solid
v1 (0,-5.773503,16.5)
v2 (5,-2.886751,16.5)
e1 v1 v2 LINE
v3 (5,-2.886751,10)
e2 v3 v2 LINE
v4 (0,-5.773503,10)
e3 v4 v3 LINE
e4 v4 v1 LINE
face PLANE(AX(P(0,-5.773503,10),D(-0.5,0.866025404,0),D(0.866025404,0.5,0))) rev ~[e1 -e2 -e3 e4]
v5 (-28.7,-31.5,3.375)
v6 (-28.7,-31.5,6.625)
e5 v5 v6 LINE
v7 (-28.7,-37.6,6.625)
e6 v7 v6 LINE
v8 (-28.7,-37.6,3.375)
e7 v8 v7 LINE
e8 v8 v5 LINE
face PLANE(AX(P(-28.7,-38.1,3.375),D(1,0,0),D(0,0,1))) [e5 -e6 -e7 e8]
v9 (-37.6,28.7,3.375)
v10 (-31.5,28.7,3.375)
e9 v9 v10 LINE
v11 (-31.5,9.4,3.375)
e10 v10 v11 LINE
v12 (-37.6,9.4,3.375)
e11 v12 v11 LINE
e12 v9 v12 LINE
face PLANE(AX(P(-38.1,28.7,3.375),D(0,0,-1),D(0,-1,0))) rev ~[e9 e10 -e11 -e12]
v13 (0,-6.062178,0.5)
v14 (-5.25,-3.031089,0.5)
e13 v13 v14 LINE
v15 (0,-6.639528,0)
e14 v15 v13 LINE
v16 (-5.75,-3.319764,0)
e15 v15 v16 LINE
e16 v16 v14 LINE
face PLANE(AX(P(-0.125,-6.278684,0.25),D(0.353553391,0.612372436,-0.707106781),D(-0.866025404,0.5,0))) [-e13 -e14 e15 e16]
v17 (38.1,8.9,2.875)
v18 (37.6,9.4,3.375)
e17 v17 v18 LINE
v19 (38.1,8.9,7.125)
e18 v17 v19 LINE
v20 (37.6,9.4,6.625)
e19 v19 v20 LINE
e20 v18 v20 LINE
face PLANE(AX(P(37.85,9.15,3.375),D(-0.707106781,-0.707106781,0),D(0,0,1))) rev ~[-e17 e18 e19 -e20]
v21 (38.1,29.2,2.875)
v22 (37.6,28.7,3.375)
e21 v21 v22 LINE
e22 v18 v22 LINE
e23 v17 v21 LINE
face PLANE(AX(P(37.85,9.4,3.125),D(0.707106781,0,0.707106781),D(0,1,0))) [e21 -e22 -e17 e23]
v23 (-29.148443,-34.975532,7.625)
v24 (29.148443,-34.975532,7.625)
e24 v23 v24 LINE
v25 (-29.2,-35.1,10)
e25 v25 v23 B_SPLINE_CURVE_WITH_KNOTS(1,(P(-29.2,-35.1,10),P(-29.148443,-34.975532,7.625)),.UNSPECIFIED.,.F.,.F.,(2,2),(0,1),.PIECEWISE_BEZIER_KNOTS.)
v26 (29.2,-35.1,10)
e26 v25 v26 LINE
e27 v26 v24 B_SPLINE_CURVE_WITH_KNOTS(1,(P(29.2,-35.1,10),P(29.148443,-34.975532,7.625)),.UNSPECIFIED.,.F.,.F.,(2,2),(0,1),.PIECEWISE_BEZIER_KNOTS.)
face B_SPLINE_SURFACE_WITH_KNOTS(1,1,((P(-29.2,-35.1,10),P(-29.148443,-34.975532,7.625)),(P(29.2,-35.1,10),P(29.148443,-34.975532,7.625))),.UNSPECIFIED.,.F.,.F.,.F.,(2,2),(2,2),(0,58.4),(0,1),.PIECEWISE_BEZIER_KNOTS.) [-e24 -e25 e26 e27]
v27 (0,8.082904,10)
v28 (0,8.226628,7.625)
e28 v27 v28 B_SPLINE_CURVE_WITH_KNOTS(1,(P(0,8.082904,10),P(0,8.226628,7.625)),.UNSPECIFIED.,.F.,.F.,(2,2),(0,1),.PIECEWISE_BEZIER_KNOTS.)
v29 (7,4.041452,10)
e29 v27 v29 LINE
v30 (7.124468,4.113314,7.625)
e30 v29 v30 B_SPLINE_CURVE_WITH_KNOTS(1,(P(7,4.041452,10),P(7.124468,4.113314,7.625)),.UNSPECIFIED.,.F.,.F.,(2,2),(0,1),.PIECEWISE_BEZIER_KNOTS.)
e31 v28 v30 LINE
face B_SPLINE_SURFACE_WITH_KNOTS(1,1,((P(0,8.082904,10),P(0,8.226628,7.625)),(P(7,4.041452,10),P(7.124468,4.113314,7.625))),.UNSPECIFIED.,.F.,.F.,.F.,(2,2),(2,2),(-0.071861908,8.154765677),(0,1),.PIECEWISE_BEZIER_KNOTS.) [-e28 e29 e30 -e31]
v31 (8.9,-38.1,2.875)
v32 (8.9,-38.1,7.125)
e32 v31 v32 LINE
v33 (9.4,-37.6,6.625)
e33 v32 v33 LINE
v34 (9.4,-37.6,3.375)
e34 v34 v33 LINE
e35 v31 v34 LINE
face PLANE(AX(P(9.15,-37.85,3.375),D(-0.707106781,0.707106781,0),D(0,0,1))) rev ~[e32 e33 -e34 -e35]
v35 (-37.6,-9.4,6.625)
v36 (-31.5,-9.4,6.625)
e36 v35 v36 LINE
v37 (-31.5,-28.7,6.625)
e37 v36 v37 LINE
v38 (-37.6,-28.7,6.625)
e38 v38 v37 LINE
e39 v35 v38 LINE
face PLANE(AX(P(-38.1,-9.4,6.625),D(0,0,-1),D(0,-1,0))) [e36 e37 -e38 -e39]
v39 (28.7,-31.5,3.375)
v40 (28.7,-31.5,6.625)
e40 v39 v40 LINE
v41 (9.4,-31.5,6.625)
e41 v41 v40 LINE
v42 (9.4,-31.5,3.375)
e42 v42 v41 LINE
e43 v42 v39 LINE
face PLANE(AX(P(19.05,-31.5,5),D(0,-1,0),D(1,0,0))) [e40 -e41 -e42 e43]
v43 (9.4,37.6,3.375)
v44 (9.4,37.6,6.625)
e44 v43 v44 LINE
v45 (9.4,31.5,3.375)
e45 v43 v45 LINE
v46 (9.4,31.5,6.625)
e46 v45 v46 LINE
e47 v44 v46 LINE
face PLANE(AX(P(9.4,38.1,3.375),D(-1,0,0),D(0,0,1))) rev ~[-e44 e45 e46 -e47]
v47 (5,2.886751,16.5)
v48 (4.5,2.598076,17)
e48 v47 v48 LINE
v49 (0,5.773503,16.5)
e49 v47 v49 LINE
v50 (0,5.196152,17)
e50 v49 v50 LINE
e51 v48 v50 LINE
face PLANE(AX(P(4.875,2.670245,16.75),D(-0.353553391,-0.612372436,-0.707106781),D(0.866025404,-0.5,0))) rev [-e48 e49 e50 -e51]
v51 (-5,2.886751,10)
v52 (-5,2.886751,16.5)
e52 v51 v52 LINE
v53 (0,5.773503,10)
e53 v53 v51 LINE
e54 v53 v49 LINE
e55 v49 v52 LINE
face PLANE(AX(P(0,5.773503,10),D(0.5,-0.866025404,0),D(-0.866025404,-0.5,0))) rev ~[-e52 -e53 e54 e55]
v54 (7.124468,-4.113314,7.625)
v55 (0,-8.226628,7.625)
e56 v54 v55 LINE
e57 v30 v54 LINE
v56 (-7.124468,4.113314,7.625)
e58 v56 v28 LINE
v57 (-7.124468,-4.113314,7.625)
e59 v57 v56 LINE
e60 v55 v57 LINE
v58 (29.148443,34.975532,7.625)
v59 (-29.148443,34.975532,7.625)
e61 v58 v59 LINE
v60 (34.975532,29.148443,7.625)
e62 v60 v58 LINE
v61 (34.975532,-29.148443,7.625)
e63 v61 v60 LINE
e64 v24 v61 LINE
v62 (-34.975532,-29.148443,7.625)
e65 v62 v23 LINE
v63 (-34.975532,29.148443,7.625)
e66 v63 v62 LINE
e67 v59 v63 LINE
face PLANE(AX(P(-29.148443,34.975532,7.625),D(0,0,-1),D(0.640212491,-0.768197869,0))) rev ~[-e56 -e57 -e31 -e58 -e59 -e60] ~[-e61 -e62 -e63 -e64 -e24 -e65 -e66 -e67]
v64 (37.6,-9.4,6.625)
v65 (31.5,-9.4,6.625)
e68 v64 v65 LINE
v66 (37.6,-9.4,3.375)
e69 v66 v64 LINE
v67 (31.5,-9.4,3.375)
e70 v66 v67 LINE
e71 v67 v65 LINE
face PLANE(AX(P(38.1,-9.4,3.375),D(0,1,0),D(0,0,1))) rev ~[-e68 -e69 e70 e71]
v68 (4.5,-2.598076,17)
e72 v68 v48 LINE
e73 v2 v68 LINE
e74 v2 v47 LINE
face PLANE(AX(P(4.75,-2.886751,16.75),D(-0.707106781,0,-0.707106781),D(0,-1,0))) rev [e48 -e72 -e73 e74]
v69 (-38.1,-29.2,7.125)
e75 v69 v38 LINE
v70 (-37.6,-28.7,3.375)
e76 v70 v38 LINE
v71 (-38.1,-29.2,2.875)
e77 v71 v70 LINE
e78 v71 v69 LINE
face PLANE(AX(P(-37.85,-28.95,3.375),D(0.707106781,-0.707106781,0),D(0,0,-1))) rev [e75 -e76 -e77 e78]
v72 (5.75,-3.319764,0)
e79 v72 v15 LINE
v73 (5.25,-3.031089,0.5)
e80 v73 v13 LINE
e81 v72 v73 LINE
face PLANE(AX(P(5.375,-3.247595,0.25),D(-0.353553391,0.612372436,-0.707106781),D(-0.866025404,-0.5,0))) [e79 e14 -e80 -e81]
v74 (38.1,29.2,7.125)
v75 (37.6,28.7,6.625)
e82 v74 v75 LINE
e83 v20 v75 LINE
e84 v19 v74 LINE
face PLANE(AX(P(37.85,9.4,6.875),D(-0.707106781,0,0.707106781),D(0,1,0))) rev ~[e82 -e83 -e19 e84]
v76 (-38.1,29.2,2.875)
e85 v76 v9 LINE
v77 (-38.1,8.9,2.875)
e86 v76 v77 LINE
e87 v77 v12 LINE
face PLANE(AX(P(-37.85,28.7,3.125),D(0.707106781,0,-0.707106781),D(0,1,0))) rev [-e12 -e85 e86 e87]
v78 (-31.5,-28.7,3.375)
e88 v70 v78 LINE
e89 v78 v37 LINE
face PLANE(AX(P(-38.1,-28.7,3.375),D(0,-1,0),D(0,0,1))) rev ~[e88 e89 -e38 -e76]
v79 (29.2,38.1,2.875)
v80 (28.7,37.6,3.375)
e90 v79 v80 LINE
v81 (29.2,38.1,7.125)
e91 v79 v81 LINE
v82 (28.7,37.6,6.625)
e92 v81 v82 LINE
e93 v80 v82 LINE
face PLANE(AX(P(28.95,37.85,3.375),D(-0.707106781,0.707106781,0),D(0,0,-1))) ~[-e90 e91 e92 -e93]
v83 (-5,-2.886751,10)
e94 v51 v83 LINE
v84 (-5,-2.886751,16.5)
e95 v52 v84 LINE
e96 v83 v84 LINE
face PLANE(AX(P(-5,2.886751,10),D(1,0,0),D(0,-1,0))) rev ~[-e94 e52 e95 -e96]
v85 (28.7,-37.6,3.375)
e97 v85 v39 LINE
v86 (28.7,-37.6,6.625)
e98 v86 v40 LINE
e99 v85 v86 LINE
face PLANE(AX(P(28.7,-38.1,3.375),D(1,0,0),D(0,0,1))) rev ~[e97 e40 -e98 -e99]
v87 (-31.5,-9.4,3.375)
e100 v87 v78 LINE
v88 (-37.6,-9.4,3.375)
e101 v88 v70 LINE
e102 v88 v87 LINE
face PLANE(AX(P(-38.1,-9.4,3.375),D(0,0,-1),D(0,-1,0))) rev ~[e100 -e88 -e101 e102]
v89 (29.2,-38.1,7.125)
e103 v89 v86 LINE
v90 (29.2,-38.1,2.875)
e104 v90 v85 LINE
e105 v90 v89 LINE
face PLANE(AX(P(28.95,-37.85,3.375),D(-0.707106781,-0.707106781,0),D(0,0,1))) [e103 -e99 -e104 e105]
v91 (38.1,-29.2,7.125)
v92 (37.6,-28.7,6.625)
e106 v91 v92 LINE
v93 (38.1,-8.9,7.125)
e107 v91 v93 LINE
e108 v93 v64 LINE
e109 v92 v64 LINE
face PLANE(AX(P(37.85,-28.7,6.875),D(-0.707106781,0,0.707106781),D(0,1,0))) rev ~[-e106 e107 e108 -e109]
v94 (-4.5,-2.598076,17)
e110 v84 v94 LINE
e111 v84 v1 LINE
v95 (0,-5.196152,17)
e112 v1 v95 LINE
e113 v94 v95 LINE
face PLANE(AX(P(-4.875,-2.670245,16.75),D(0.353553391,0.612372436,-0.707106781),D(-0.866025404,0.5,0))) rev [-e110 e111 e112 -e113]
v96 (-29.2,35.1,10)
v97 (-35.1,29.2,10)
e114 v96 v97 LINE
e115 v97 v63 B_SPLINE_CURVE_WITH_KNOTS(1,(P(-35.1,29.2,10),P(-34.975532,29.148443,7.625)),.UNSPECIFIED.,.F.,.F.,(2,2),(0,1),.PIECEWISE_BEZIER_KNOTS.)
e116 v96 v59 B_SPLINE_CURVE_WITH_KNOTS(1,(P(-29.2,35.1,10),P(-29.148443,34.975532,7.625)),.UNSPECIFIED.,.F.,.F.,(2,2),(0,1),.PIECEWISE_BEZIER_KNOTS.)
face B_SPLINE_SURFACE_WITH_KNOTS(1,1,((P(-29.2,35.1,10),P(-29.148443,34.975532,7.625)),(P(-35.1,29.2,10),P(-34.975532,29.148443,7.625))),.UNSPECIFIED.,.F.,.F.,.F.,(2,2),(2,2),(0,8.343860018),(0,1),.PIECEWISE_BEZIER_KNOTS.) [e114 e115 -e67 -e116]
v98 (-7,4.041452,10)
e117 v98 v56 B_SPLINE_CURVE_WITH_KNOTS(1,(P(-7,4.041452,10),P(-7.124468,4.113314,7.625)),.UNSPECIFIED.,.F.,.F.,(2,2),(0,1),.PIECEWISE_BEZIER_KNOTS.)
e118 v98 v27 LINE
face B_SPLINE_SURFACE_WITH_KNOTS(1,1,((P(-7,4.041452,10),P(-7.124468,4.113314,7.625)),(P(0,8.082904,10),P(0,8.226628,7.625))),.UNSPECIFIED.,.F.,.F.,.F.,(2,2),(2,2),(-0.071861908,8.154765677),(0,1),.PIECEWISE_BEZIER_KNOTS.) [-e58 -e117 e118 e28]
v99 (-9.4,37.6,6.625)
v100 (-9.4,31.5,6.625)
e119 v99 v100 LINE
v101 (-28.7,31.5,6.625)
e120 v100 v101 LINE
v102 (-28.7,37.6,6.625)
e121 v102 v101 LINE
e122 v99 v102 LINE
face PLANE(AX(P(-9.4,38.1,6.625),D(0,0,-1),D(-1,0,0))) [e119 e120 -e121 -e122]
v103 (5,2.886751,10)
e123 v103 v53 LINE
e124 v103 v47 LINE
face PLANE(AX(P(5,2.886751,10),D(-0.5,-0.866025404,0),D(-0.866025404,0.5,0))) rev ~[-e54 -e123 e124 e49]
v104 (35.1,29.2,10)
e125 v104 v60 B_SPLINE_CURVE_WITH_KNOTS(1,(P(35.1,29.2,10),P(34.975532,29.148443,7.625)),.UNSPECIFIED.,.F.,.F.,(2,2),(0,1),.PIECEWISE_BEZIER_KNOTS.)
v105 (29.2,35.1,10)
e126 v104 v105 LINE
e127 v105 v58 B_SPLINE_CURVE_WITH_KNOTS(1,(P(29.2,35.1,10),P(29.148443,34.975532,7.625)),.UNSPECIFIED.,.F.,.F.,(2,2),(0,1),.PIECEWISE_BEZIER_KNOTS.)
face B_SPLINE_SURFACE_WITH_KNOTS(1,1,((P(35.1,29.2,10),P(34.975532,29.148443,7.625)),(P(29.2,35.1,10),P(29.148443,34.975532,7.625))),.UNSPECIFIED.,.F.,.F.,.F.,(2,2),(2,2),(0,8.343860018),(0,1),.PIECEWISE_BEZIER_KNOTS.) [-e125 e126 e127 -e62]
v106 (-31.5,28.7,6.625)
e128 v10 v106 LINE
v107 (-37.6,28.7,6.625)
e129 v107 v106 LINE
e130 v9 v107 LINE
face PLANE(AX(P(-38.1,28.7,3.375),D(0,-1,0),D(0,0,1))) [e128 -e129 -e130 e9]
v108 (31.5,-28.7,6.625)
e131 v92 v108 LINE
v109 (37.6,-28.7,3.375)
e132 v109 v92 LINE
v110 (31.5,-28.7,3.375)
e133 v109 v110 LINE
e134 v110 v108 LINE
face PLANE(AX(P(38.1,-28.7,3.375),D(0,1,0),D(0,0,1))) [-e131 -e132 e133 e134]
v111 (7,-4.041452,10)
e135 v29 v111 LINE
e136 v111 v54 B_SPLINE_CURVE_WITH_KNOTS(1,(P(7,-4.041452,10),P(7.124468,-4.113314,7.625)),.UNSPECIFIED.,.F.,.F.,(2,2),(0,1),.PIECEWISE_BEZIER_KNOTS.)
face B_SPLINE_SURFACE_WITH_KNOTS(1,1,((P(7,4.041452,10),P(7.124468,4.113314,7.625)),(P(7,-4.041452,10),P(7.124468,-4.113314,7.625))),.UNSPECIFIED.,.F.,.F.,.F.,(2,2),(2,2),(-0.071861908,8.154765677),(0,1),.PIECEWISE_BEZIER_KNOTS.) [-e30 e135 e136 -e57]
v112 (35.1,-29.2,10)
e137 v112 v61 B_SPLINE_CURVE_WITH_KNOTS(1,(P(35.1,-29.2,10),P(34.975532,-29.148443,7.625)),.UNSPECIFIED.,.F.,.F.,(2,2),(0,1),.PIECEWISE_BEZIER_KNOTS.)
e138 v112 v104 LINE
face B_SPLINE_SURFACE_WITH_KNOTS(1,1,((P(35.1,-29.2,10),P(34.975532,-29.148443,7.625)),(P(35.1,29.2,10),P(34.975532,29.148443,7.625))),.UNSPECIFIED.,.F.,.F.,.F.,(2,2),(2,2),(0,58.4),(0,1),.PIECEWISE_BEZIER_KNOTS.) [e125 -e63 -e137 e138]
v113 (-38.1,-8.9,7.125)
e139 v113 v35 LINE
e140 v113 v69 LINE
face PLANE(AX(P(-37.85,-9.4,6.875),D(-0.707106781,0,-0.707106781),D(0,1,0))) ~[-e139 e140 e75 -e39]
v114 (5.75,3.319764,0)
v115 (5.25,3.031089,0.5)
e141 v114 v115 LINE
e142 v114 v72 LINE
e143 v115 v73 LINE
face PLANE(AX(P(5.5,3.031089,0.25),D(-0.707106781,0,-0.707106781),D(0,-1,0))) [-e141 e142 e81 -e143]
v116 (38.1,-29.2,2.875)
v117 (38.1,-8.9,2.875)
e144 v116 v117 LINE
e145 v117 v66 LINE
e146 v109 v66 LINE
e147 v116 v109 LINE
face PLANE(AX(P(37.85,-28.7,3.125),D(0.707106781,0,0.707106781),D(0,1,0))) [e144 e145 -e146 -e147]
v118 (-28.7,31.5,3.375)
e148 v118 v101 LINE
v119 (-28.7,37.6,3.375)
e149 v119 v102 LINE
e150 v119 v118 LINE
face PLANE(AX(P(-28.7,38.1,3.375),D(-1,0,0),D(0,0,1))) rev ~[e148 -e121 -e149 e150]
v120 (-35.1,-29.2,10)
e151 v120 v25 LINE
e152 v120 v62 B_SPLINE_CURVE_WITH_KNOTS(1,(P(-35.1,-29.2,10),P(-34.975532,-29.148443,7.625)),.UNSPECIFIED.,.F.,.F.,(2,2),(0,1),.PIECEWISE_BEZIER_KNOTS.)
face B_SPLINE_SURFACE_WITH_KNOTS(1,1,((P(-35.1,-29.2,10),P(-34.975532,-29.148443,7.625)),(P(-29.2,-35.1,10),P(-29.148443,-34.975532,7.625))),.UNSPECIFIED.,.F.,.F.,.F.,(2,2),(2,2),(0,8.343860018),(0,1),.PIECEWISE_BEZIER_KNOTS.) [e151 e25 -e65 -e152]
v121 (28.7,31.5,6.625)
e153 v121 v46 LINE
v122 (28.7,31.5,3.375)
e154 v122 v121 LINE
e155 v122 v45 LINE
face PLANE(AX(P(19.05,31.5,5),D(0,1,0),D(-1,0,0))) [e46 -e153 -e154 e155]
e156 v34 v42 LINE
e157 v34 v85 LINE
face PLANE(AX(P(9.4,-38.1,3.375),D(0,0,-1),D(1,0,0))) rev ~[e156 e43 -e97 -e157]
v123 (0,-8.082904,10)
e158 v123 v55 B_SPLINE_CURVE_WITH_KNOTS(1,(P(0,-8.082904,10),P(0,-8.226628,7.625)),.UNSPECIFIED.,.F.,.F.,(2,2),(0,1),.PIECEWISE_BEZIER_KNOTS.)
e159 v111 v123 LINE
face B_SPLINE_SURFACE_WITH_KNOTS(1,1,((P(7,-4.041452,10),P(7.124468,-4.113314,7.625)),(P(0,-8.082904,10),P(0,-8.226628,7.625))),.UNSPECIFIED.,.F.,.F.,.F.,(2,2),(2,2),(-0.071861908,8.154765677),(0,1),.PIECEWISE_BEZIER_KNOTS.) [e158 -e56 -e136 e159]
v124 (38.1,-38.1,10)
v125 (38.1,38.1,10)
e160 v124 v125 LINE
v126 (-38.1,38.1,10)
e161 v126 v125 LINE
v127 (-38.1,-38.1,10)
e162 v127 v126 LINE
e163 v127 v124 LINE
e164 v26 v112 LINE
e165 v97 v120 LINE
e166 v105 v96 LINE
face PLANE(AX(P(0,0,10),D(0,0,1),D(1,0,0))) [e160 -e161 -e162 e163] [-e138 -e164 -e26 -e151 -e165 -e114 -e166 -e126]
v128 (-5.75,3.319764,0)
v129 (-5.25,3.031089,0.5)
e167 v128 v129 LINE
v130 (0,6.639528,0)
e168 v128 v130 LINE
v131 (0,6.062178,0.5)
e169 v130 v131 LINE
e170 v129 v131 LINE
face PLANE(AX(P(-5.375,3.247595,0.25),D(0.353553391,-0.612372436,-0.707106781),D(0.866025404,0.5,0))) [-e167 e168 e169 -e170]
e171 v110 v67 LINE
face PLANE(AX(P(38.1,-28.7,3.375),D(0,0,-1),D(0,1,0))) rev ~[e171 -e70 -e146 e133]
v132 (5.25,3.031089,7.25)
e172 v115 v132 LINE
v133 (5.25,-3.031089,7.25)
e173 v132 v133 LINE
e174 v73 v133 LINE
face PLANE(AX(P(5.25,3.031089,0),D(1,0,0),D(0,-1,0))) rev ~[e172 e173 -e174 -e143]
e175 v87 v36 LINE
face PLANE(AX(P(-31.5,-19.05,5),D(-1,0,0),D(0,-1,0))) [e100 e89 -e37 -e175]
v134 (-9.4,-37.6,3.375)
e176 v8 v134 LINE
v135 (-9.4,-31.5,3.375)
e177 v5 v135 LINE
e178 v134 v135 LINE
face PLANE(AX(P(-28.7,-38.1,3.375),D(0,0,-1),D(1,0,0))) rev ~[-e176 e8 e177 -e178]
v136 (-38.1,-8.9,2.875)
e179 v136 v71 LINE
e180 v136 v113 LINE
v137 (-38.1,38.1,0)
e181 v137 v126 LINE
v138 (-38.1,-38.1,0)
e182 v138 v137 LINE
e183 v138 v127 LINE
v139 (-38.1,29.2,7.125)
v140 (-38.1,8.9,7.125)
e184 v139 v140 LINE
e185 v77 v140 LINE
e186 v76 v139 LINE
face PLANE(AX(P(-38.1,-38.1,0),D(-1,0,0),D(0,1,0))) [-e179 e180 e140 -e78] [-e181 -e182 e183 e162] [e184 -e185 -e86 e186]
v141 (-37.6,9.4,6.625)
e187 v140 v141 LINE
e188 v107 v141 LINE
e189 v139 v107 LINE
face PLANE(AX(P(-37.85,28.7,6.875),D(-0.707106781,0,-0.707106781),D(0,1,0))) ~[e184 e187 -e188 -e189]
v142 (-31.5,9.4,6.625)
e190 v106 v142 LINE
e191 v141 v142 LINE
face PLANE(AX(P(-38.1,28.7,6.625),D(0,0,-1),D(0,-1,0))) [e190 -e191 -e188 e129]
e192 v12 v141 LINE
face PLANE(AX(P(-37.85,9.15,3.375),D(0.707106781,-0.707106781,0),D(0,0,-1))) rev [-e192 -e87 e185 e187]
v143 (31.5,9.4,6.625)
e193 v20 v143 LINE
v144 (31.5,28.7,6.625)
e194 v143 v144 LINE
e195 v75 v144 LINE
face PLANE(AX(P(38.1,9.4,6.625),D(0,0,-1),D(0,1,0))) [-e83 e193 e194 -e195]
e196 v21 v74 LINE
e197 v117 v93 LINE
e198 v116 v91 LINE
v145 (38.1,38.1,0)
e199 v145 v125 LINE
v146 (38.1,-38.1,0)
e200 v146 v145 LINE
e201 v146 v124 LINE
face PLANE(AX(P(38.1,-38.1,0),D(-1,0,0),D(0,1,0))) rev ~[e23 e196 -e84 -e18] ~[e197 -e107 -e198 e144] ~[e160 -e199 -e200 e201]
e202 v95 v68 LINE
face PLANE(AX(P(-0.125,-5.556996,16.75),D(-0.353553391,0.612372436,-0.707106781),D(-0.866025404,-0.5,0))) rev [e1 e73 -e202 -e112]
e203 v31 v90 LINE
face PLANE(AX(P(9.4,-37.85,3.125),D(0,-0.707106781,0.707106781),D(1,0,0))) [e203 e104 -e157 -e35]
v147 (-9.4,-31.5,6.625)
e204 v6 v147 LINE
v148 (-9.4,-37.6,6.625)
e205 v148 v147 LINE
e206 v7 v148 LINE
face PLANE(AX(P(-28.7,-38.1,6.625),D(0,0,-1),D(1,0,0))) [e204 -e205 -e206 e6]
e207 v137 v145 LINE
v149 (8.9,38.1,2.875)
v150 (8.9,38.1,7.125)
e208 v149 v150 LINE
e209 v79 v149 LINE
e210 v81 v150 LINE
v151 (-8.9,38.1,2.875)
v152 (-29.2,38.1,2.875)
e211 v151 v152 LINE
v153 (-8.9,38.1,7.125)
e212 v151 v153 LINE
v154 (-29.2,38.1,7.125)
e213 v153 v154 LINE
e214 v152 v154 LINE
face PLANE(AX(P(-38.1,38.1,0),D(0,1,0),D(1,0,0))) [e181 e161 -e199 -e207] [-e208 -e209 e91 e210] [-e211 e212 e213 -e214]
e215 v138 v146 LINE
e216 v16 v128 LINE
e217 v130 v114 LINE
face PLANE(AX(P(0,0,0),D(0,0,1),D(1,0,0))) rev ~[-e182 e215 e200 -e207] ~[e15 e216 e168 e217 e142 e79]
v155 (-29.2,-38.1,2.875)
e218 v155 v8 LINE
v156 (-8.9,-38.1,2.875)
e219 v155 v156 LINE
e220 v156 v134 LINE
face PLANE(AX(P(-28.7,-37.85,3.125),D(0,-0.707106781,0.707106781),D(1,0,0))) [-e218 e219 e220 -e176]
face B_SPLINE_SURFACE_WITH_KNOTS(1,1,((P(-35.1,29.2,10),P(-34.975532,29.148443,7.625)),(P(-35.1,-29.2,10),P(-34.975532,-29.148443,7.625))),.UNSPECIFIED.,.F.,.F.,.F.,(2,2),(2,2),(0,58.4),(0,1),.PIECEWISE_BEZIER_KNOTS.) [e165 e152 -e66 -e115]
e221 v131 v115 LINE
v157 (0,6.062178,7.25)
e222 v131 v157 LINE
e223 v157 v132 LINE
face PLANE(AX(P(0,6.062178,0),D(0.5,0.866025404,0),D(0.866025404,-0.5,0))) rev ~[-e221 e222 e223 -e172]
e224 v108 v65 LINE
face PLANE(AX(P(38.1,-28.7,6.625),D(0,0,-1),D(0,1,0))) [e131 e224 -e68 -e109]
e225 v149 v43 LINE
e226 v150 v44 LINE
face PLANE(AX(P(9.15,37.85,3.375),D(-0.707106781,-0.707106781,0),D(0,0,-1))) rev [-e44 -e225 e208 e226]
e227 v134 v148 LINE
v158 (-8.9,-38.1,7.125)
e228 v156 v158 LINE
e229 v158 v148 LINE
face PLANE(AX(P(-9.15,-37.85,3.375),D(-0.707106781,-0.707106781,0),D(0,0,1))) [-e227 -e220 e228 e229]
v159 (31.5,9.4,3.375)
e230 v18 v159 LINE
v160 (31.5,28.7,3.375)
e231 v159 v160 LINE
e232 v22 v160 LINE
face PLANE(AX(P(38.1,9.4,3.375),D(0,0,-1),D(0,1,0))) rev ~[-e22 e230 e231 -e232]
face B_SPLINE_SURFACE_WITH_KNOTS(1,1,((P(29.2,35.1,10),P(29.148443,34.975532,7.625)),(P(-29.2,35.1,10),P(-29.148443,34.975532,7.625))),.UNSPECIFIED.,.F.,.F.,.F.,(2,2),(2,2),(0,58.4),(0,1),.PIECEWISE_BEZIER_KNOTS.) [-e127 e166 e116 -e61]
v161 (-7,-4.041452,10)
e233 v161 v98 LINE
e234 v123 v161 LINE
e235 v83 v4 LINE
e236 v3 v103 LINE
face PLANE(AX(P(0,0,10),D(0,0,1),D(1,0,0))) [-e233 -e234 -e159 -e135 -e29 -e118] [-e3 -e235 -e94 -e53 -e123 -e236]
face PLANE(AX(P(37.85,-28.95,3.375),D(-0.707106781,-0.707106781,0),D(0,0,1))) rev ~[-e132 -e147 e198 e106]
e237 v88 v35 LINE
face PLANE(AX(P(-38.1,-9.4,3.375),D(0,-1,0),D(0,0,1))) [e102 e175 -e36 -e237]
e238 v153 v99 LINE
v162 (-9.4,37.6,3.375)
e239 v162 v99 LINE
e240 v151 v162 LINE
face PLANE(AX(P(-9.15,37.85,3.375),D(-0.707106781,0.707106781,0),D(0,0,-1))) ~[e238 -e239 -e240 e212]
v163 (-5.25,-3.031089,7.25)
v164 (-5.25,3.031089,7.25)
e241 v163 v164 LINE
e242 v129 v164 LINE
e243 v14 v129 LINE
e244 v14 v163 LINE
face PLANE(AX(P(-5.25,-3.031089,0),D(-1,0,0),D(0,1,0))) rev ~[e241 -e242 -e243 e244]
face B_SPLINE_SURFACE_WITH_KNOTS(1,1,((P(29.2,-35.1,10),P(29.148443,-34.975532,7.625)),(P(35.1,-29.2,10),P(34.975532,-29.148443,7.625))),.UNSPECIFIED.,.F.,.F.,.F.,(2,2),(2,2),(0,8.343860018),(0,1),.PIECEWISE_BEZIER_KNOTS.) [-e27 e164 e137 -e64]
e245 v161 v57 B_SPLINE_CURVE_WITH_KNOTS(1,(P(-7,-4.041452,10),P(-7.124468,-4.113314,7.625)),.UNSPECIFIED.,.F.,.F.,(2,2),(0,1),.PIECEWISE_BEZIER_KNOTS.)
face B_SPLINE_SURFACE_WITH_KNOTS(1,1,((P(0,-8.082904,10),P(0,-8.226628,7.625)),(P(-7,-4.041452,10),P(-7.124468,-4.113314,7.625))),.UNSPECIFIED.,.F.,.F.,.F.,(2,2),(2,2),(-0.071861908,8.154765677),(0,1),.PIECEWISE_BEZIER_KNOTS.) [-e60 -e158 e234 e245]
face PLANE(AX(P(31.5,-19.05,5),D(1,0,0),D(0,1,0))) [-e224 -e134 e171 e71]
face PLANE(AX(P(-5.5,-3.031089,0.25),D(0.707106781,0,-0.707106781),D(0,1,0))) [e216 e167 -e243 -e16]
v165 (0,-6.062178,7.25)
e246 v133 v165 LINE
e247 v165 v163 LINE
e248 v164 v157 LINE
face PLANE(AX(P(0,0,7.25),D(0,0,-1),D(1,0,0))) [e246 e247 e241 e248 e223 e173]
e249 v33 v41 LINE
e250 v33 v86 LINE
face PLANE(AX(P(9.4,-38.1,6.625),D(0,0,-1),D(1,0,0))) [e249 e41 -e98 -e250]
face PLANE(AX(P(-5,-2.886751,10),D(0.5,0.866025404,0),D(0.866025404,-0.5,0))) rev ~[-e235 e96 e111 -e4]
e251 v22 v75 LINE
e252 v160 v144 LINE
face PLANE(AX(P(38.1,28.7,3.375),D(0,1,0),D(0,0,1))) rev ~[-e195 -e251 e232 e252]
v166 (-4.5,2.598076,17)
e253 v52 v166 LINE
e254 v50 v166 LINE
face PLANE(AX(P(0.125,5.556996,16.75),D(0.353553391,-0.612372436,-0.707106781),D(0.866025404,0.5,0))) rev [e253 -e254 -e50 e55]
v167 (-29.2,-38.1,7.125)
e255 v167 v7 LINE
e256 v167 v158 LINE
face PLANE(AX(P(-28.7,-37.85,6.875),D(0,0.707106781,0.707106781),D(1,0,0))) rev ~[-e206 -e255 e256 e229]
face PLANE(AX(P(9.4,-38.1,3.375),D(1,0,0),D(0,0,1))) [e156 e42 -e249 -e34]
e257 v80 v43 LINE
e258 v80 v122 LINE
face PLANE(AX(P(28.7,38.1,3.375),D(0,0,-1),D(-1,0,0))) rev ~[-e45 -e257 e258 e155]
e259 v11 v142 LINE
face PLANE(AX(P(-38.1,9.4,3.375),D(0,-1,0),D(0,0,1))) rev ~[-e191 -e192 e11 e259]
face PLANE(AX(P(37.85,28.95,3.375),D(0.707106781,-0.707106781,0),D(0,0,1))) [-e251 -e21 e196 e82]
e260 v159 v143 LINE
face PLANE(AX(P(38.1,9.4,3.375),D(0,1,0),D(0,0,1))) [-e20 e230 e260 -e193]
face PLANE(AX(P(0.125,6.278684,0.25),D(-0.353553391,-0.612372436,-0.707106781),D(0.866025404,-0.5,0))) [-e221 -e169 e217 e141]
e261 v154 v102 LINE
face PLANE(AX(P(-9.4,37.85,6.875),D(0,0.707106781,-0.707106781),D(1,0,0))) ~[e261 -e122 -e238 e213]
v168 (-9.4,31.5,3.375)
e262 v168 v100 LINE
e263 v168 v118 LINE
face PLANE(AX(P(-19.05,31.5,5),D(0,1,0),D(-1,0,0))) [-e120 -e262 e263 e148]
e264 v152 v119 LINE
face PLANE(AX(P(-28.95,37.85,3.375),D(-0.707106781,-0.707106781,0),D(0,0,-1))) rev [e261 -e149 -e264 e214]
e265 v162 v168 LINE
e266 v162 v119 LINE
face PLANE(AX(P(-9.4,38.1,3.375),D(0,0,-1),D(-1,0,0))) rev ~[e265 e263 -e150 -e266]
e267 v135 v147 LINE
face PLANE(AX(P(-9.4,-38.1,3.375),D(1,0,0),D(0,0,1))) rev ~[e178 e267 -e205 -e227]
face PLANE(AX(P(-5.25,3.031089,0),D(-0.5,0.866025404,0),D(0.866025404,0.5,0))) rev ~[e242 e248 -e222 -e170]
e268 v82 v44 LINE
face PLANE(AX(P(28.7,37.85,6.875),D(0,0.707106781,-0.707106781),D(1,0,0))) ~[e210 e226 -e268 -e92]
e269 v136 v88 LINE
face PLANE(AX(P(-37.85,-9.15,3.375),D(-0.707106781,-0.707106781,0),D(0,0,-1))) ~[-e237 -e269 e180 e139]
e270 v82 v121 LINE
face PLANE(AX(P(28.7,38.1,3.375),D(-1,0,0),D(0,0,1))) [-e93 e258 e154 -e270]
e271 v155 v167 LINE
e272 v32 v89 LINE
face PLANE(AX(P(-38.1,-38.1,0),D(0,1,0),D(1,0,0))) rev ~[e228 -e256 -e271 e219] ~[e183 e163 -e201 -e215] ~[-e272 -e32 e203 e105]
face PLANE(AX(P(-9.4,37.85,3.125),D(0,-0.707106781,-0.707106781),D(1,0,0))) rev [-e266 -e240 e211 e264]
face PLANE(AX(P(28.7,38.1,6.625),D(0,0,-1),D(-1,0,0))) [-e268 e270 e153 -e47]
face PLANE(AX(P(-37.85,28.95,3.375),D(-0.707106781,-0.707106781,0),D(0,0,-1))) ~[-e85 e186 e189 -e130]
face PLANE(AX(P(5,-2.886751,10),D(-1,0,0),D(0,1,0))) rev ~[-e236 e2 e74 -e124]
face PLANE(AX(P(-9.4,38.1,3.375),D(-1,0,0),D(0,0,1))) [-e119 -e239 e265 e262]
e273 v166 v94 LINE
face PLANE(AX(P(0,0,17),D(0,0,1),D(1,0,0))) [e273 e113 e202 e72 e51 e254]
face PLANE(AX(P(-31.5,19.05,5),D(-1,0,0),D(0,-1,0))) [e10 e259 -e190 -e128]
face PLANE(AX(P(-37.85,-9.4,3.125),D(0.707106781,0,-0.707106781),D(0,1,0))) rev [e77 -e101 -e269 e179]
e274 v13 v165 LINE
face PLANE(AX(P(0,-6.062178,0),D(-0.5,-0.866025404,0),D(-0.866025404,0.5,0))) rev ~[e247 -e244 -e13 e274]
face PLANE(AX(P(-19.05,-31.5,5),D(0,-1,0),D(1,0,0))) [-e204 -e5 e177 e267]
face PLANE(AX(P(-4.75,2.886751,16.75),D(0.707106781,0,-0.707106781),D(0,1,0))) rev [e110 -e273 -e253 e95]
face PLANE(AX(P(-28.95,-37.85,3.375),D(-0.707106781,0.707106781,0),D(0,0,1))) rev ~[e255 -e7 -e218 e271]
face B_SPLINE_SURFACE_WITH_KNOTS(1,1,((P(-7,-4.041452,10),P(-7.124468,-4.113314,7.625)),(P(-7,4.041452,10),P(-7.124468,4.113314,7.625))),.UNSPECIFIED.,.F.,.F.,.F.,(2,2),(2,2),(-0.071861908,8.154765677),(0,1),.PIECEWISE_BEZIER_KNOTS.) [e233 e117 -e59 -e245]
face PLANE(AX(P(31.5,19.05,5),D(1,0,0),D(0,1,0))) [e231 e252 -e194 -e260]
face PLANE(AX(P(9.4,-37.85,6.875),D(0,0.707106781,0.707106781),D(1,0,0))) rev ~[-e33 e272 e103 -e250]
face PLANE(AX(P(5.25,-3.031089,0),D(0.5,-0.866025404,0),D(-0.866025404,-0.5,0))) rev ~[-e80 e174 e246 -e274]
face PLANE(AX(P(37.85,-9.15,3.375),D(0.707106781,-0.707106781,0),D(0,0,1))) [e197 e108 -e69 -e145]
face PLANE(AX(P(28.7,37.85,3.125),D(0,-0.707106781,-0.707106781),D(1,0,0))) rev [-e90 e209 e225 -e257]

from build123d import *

# Parameters (mm, degrees)
F0_W      = 76.2
F0_H      = 76.2
F1_DEPTH  = 10
F3_DEPTH  = 7
F5_DEPTH  = 7.25
F6_W      = 19.3
F6_H      = 3.25
F8_DEPTH  = 6.6
F9_COUNT  = 4
F9_ANGLE  = 270
F11_SIZE  = 0.5
F19_DEPTH = 2.375
F19_TAPER = 3


with BuildPart() as f1:
    # F0 (on Top) → F1 (new body)
    with BuildSketch(Plane.XY):
        Rectangle(F0_W, F0_H)
    extrude(amount=F1_DEPTH)

    # F2 (on face) → F3 (join)
    with BuildSketch(Plane.XY.offset(10)):
        Polygon((5, -2.8867513459), (5, 2.8867513459), (0, 5.7735026919), (-5, 2.8867513459), (-5, -2.8867513459), (0, -5.7735026919), align=None)
    extrude(amount=F3_DEPTH)

    # F4 (on face) → F5 (cut)
    with BuildSketch(Plane(origin=(0, 0, 0), x_dir=(1, 0, 0), z_dir=(0, 0, -1))):
        Polygon((5.25, -3.0310889132), (5.25, 3.0310889132), (0, 6.0621778265), (-5.25, 3.0310889132), (-5.25, -3.0310889132), (0, -6.0621778265), align=None)
    extrude(amount=-F5_DEPTH, mode=Mode.SUBTRACT)


with BuildPart() as f8:
    # F6 (on face) → F8 (new body)
    with BuildSketch(Plane.XZ.offset(38.1)):
        with Locations((-19.05, 5)):
            Rectangle(F6_W, F6_H)
    extrude(amount=-F8_DEPTH)


with BuildPart() as f8b:
    # F6 (on face) → F8, piece 2 (new body)
    with BuildSketch(Plane.XZ.offset(38.1)):
        with Locations((19.05, 5)):
            Rectangle(F6_W, F6_H)
    extrude(amount=-F8_DEPTH)


with BuildPart() as f9_1:
    # F9: instance of F8b
    add(f8b.part.rotate(Axis((0, 0, 20.068032667), (0, 0, -1)), 1 * F9_ANGLE / (F9_COUNT - 1)))


with BuildPart() as f9_2:
    # F9: instance of F8b
    add(f8b.part.rotate(Axis((0, 0, 20.068032667), (0, 0, -1)), 2 * F9_ANGLE / (F9_COUNT - 1)))


with BuildPart() as f9_3:
    # F9: instance of F8b
    add(f8b.part.rotate(Axis((0, 0, 20.068032667), (0, 0, -1)), 3 * F9_ANGLE / (F9_COUNT - 1)))


with BuildPart() as f9_4:
    # F9: instance of F8
    add(f8.part.rotate(Axis((0, 0, 20.068032667), (0, 0, -1)), 1 * F9_ANGLE / (F9_COUNT - 1)))


with BuildPart() as f9_5:
    # F9: instance of F8
    add(f8.part.rotate(Axis((0, 0, 20.068032667), (0, 0, -1)), 2 * F9_ANGLE / (F9_COUNT - 1)))


with BuildPart() as f9_6:
    # F9: instance of F8
    add(f8.part.rotate(Axis((0, 0, 20.068032667), (0, 0, -1)), 3 * F9_ANGLE / (F9_COUNT - 1)))


with BuildPart() as f1_1:
    add(f1.part)

    # F10: cut F9_3, F9_6, F9_2, F9_5, F9_1, F9_4, F8b, F8
    add(f9_3.part, mode=Mode.SUBTRACT)
    add(f9_6.part, mode=Mode.SUBTRACT)
    add(f9_2.part, mode=Mode.SUBTRACT)
    add(f9_5.part, mode=Mode.SUBTRACT)
    add(f9_1.part, mode=Mode.SUBTRACT)
    add(f9_4.part, mode=Mode.SUBTRACT)
    add(f8b.part, mode=Mode.SUBTRACT)
    add(f8.part, mode=Mode.SUBTRACT)

    # F11
    f11_edges = [f1_1.edges().sort_by_distance(p)[0] for p in [
        (5, 0, 17),
        (2.5, 4.330127, 17),
        (-2.5, 4.330127, 17),
        (-5, 0, 17),
        (-2.5, -4.330127, 17),
        (2.5, -4.330127, 17),
        (2.625, 4.546633, 0),
        (5.25, 0, 0),
        (2.625, -4.546633, 0),
        (-2.625, -4.546633, 0),
        (-5.25, 0, 0),
        (-2.625, 4.546633, 0),
        (38.1, -19.05, 6.625),
        (38.1, -9.4, 5),
        (38.1, -19.05, 3.375),
        (38.1, -28.7, 5),
        (38.1, 19.05, 3.375),
        (38.1, 9.4, 5),
        (38.1, 28.7, 5),
        (38.1, 19.05, 6.625),
        (19.05, 38.1, 6.625),
        (28.7, 38.1, 5),
        (9.4, 38.1, 5),
        (19.05, 38.1, 3.375),
        (28.7, -38.1, 5),
        (19.05, -38.1, 6.625),
        (9.4, -38.1, 5),
        (19.05, -38.1, 3.375),
        (-9.4, -38.1, 5),
        (-19.05, -38.1, 6.625),
        (-19.05, -38.1, 3.375),
        (-28.7, -38.1, 5),
        (-38.1, -28.7, 5),
        (-38.1, -19.05, 6.625),
        (-38.1, -9.4, 5),
        (-38.1, -19.05, 3.375),
        (-38.1, 9.4, 5),
        (-38.1, 19.05, 6.625),
        (-38.1, 28.7, 5),
        (-38.1, 19.05, 3.375),
        (-19.05, 38.1, 6.625),
        (-28.7, 38.1, 5),
        (-9.4, 38.1, 5),
        (-19.05, 38.1, 3.375),
    ]]
    chamfer(f11_edges, length=F11_SIZE)

    # F18 (on face) → F19 (cut)
    with BuildSketch(Plane.XY.offset(10)):
        Polygon((-29.2, 35.1), (-35.1, 29.2), (-35.1, -29.2), (-29.2, -35.1), (29.2, -35.1), (35.1, -29.2), (35.1, 29.2), (29.2, 35.1), align=None)
        Polygon((0, -8.0829037687), (-7, -4.0414518843), (-7, 4.0414518843), (0, 8.0829037687), (7, 4.0414518843), (7, -4.0414518843), align=None, mode=Mode.SUBTRACT)
    extrude(amount=-F19_DEPTH, taper=F19_TAPER, mode=Mode.SUBTRACT)


solid = f1_1.part
